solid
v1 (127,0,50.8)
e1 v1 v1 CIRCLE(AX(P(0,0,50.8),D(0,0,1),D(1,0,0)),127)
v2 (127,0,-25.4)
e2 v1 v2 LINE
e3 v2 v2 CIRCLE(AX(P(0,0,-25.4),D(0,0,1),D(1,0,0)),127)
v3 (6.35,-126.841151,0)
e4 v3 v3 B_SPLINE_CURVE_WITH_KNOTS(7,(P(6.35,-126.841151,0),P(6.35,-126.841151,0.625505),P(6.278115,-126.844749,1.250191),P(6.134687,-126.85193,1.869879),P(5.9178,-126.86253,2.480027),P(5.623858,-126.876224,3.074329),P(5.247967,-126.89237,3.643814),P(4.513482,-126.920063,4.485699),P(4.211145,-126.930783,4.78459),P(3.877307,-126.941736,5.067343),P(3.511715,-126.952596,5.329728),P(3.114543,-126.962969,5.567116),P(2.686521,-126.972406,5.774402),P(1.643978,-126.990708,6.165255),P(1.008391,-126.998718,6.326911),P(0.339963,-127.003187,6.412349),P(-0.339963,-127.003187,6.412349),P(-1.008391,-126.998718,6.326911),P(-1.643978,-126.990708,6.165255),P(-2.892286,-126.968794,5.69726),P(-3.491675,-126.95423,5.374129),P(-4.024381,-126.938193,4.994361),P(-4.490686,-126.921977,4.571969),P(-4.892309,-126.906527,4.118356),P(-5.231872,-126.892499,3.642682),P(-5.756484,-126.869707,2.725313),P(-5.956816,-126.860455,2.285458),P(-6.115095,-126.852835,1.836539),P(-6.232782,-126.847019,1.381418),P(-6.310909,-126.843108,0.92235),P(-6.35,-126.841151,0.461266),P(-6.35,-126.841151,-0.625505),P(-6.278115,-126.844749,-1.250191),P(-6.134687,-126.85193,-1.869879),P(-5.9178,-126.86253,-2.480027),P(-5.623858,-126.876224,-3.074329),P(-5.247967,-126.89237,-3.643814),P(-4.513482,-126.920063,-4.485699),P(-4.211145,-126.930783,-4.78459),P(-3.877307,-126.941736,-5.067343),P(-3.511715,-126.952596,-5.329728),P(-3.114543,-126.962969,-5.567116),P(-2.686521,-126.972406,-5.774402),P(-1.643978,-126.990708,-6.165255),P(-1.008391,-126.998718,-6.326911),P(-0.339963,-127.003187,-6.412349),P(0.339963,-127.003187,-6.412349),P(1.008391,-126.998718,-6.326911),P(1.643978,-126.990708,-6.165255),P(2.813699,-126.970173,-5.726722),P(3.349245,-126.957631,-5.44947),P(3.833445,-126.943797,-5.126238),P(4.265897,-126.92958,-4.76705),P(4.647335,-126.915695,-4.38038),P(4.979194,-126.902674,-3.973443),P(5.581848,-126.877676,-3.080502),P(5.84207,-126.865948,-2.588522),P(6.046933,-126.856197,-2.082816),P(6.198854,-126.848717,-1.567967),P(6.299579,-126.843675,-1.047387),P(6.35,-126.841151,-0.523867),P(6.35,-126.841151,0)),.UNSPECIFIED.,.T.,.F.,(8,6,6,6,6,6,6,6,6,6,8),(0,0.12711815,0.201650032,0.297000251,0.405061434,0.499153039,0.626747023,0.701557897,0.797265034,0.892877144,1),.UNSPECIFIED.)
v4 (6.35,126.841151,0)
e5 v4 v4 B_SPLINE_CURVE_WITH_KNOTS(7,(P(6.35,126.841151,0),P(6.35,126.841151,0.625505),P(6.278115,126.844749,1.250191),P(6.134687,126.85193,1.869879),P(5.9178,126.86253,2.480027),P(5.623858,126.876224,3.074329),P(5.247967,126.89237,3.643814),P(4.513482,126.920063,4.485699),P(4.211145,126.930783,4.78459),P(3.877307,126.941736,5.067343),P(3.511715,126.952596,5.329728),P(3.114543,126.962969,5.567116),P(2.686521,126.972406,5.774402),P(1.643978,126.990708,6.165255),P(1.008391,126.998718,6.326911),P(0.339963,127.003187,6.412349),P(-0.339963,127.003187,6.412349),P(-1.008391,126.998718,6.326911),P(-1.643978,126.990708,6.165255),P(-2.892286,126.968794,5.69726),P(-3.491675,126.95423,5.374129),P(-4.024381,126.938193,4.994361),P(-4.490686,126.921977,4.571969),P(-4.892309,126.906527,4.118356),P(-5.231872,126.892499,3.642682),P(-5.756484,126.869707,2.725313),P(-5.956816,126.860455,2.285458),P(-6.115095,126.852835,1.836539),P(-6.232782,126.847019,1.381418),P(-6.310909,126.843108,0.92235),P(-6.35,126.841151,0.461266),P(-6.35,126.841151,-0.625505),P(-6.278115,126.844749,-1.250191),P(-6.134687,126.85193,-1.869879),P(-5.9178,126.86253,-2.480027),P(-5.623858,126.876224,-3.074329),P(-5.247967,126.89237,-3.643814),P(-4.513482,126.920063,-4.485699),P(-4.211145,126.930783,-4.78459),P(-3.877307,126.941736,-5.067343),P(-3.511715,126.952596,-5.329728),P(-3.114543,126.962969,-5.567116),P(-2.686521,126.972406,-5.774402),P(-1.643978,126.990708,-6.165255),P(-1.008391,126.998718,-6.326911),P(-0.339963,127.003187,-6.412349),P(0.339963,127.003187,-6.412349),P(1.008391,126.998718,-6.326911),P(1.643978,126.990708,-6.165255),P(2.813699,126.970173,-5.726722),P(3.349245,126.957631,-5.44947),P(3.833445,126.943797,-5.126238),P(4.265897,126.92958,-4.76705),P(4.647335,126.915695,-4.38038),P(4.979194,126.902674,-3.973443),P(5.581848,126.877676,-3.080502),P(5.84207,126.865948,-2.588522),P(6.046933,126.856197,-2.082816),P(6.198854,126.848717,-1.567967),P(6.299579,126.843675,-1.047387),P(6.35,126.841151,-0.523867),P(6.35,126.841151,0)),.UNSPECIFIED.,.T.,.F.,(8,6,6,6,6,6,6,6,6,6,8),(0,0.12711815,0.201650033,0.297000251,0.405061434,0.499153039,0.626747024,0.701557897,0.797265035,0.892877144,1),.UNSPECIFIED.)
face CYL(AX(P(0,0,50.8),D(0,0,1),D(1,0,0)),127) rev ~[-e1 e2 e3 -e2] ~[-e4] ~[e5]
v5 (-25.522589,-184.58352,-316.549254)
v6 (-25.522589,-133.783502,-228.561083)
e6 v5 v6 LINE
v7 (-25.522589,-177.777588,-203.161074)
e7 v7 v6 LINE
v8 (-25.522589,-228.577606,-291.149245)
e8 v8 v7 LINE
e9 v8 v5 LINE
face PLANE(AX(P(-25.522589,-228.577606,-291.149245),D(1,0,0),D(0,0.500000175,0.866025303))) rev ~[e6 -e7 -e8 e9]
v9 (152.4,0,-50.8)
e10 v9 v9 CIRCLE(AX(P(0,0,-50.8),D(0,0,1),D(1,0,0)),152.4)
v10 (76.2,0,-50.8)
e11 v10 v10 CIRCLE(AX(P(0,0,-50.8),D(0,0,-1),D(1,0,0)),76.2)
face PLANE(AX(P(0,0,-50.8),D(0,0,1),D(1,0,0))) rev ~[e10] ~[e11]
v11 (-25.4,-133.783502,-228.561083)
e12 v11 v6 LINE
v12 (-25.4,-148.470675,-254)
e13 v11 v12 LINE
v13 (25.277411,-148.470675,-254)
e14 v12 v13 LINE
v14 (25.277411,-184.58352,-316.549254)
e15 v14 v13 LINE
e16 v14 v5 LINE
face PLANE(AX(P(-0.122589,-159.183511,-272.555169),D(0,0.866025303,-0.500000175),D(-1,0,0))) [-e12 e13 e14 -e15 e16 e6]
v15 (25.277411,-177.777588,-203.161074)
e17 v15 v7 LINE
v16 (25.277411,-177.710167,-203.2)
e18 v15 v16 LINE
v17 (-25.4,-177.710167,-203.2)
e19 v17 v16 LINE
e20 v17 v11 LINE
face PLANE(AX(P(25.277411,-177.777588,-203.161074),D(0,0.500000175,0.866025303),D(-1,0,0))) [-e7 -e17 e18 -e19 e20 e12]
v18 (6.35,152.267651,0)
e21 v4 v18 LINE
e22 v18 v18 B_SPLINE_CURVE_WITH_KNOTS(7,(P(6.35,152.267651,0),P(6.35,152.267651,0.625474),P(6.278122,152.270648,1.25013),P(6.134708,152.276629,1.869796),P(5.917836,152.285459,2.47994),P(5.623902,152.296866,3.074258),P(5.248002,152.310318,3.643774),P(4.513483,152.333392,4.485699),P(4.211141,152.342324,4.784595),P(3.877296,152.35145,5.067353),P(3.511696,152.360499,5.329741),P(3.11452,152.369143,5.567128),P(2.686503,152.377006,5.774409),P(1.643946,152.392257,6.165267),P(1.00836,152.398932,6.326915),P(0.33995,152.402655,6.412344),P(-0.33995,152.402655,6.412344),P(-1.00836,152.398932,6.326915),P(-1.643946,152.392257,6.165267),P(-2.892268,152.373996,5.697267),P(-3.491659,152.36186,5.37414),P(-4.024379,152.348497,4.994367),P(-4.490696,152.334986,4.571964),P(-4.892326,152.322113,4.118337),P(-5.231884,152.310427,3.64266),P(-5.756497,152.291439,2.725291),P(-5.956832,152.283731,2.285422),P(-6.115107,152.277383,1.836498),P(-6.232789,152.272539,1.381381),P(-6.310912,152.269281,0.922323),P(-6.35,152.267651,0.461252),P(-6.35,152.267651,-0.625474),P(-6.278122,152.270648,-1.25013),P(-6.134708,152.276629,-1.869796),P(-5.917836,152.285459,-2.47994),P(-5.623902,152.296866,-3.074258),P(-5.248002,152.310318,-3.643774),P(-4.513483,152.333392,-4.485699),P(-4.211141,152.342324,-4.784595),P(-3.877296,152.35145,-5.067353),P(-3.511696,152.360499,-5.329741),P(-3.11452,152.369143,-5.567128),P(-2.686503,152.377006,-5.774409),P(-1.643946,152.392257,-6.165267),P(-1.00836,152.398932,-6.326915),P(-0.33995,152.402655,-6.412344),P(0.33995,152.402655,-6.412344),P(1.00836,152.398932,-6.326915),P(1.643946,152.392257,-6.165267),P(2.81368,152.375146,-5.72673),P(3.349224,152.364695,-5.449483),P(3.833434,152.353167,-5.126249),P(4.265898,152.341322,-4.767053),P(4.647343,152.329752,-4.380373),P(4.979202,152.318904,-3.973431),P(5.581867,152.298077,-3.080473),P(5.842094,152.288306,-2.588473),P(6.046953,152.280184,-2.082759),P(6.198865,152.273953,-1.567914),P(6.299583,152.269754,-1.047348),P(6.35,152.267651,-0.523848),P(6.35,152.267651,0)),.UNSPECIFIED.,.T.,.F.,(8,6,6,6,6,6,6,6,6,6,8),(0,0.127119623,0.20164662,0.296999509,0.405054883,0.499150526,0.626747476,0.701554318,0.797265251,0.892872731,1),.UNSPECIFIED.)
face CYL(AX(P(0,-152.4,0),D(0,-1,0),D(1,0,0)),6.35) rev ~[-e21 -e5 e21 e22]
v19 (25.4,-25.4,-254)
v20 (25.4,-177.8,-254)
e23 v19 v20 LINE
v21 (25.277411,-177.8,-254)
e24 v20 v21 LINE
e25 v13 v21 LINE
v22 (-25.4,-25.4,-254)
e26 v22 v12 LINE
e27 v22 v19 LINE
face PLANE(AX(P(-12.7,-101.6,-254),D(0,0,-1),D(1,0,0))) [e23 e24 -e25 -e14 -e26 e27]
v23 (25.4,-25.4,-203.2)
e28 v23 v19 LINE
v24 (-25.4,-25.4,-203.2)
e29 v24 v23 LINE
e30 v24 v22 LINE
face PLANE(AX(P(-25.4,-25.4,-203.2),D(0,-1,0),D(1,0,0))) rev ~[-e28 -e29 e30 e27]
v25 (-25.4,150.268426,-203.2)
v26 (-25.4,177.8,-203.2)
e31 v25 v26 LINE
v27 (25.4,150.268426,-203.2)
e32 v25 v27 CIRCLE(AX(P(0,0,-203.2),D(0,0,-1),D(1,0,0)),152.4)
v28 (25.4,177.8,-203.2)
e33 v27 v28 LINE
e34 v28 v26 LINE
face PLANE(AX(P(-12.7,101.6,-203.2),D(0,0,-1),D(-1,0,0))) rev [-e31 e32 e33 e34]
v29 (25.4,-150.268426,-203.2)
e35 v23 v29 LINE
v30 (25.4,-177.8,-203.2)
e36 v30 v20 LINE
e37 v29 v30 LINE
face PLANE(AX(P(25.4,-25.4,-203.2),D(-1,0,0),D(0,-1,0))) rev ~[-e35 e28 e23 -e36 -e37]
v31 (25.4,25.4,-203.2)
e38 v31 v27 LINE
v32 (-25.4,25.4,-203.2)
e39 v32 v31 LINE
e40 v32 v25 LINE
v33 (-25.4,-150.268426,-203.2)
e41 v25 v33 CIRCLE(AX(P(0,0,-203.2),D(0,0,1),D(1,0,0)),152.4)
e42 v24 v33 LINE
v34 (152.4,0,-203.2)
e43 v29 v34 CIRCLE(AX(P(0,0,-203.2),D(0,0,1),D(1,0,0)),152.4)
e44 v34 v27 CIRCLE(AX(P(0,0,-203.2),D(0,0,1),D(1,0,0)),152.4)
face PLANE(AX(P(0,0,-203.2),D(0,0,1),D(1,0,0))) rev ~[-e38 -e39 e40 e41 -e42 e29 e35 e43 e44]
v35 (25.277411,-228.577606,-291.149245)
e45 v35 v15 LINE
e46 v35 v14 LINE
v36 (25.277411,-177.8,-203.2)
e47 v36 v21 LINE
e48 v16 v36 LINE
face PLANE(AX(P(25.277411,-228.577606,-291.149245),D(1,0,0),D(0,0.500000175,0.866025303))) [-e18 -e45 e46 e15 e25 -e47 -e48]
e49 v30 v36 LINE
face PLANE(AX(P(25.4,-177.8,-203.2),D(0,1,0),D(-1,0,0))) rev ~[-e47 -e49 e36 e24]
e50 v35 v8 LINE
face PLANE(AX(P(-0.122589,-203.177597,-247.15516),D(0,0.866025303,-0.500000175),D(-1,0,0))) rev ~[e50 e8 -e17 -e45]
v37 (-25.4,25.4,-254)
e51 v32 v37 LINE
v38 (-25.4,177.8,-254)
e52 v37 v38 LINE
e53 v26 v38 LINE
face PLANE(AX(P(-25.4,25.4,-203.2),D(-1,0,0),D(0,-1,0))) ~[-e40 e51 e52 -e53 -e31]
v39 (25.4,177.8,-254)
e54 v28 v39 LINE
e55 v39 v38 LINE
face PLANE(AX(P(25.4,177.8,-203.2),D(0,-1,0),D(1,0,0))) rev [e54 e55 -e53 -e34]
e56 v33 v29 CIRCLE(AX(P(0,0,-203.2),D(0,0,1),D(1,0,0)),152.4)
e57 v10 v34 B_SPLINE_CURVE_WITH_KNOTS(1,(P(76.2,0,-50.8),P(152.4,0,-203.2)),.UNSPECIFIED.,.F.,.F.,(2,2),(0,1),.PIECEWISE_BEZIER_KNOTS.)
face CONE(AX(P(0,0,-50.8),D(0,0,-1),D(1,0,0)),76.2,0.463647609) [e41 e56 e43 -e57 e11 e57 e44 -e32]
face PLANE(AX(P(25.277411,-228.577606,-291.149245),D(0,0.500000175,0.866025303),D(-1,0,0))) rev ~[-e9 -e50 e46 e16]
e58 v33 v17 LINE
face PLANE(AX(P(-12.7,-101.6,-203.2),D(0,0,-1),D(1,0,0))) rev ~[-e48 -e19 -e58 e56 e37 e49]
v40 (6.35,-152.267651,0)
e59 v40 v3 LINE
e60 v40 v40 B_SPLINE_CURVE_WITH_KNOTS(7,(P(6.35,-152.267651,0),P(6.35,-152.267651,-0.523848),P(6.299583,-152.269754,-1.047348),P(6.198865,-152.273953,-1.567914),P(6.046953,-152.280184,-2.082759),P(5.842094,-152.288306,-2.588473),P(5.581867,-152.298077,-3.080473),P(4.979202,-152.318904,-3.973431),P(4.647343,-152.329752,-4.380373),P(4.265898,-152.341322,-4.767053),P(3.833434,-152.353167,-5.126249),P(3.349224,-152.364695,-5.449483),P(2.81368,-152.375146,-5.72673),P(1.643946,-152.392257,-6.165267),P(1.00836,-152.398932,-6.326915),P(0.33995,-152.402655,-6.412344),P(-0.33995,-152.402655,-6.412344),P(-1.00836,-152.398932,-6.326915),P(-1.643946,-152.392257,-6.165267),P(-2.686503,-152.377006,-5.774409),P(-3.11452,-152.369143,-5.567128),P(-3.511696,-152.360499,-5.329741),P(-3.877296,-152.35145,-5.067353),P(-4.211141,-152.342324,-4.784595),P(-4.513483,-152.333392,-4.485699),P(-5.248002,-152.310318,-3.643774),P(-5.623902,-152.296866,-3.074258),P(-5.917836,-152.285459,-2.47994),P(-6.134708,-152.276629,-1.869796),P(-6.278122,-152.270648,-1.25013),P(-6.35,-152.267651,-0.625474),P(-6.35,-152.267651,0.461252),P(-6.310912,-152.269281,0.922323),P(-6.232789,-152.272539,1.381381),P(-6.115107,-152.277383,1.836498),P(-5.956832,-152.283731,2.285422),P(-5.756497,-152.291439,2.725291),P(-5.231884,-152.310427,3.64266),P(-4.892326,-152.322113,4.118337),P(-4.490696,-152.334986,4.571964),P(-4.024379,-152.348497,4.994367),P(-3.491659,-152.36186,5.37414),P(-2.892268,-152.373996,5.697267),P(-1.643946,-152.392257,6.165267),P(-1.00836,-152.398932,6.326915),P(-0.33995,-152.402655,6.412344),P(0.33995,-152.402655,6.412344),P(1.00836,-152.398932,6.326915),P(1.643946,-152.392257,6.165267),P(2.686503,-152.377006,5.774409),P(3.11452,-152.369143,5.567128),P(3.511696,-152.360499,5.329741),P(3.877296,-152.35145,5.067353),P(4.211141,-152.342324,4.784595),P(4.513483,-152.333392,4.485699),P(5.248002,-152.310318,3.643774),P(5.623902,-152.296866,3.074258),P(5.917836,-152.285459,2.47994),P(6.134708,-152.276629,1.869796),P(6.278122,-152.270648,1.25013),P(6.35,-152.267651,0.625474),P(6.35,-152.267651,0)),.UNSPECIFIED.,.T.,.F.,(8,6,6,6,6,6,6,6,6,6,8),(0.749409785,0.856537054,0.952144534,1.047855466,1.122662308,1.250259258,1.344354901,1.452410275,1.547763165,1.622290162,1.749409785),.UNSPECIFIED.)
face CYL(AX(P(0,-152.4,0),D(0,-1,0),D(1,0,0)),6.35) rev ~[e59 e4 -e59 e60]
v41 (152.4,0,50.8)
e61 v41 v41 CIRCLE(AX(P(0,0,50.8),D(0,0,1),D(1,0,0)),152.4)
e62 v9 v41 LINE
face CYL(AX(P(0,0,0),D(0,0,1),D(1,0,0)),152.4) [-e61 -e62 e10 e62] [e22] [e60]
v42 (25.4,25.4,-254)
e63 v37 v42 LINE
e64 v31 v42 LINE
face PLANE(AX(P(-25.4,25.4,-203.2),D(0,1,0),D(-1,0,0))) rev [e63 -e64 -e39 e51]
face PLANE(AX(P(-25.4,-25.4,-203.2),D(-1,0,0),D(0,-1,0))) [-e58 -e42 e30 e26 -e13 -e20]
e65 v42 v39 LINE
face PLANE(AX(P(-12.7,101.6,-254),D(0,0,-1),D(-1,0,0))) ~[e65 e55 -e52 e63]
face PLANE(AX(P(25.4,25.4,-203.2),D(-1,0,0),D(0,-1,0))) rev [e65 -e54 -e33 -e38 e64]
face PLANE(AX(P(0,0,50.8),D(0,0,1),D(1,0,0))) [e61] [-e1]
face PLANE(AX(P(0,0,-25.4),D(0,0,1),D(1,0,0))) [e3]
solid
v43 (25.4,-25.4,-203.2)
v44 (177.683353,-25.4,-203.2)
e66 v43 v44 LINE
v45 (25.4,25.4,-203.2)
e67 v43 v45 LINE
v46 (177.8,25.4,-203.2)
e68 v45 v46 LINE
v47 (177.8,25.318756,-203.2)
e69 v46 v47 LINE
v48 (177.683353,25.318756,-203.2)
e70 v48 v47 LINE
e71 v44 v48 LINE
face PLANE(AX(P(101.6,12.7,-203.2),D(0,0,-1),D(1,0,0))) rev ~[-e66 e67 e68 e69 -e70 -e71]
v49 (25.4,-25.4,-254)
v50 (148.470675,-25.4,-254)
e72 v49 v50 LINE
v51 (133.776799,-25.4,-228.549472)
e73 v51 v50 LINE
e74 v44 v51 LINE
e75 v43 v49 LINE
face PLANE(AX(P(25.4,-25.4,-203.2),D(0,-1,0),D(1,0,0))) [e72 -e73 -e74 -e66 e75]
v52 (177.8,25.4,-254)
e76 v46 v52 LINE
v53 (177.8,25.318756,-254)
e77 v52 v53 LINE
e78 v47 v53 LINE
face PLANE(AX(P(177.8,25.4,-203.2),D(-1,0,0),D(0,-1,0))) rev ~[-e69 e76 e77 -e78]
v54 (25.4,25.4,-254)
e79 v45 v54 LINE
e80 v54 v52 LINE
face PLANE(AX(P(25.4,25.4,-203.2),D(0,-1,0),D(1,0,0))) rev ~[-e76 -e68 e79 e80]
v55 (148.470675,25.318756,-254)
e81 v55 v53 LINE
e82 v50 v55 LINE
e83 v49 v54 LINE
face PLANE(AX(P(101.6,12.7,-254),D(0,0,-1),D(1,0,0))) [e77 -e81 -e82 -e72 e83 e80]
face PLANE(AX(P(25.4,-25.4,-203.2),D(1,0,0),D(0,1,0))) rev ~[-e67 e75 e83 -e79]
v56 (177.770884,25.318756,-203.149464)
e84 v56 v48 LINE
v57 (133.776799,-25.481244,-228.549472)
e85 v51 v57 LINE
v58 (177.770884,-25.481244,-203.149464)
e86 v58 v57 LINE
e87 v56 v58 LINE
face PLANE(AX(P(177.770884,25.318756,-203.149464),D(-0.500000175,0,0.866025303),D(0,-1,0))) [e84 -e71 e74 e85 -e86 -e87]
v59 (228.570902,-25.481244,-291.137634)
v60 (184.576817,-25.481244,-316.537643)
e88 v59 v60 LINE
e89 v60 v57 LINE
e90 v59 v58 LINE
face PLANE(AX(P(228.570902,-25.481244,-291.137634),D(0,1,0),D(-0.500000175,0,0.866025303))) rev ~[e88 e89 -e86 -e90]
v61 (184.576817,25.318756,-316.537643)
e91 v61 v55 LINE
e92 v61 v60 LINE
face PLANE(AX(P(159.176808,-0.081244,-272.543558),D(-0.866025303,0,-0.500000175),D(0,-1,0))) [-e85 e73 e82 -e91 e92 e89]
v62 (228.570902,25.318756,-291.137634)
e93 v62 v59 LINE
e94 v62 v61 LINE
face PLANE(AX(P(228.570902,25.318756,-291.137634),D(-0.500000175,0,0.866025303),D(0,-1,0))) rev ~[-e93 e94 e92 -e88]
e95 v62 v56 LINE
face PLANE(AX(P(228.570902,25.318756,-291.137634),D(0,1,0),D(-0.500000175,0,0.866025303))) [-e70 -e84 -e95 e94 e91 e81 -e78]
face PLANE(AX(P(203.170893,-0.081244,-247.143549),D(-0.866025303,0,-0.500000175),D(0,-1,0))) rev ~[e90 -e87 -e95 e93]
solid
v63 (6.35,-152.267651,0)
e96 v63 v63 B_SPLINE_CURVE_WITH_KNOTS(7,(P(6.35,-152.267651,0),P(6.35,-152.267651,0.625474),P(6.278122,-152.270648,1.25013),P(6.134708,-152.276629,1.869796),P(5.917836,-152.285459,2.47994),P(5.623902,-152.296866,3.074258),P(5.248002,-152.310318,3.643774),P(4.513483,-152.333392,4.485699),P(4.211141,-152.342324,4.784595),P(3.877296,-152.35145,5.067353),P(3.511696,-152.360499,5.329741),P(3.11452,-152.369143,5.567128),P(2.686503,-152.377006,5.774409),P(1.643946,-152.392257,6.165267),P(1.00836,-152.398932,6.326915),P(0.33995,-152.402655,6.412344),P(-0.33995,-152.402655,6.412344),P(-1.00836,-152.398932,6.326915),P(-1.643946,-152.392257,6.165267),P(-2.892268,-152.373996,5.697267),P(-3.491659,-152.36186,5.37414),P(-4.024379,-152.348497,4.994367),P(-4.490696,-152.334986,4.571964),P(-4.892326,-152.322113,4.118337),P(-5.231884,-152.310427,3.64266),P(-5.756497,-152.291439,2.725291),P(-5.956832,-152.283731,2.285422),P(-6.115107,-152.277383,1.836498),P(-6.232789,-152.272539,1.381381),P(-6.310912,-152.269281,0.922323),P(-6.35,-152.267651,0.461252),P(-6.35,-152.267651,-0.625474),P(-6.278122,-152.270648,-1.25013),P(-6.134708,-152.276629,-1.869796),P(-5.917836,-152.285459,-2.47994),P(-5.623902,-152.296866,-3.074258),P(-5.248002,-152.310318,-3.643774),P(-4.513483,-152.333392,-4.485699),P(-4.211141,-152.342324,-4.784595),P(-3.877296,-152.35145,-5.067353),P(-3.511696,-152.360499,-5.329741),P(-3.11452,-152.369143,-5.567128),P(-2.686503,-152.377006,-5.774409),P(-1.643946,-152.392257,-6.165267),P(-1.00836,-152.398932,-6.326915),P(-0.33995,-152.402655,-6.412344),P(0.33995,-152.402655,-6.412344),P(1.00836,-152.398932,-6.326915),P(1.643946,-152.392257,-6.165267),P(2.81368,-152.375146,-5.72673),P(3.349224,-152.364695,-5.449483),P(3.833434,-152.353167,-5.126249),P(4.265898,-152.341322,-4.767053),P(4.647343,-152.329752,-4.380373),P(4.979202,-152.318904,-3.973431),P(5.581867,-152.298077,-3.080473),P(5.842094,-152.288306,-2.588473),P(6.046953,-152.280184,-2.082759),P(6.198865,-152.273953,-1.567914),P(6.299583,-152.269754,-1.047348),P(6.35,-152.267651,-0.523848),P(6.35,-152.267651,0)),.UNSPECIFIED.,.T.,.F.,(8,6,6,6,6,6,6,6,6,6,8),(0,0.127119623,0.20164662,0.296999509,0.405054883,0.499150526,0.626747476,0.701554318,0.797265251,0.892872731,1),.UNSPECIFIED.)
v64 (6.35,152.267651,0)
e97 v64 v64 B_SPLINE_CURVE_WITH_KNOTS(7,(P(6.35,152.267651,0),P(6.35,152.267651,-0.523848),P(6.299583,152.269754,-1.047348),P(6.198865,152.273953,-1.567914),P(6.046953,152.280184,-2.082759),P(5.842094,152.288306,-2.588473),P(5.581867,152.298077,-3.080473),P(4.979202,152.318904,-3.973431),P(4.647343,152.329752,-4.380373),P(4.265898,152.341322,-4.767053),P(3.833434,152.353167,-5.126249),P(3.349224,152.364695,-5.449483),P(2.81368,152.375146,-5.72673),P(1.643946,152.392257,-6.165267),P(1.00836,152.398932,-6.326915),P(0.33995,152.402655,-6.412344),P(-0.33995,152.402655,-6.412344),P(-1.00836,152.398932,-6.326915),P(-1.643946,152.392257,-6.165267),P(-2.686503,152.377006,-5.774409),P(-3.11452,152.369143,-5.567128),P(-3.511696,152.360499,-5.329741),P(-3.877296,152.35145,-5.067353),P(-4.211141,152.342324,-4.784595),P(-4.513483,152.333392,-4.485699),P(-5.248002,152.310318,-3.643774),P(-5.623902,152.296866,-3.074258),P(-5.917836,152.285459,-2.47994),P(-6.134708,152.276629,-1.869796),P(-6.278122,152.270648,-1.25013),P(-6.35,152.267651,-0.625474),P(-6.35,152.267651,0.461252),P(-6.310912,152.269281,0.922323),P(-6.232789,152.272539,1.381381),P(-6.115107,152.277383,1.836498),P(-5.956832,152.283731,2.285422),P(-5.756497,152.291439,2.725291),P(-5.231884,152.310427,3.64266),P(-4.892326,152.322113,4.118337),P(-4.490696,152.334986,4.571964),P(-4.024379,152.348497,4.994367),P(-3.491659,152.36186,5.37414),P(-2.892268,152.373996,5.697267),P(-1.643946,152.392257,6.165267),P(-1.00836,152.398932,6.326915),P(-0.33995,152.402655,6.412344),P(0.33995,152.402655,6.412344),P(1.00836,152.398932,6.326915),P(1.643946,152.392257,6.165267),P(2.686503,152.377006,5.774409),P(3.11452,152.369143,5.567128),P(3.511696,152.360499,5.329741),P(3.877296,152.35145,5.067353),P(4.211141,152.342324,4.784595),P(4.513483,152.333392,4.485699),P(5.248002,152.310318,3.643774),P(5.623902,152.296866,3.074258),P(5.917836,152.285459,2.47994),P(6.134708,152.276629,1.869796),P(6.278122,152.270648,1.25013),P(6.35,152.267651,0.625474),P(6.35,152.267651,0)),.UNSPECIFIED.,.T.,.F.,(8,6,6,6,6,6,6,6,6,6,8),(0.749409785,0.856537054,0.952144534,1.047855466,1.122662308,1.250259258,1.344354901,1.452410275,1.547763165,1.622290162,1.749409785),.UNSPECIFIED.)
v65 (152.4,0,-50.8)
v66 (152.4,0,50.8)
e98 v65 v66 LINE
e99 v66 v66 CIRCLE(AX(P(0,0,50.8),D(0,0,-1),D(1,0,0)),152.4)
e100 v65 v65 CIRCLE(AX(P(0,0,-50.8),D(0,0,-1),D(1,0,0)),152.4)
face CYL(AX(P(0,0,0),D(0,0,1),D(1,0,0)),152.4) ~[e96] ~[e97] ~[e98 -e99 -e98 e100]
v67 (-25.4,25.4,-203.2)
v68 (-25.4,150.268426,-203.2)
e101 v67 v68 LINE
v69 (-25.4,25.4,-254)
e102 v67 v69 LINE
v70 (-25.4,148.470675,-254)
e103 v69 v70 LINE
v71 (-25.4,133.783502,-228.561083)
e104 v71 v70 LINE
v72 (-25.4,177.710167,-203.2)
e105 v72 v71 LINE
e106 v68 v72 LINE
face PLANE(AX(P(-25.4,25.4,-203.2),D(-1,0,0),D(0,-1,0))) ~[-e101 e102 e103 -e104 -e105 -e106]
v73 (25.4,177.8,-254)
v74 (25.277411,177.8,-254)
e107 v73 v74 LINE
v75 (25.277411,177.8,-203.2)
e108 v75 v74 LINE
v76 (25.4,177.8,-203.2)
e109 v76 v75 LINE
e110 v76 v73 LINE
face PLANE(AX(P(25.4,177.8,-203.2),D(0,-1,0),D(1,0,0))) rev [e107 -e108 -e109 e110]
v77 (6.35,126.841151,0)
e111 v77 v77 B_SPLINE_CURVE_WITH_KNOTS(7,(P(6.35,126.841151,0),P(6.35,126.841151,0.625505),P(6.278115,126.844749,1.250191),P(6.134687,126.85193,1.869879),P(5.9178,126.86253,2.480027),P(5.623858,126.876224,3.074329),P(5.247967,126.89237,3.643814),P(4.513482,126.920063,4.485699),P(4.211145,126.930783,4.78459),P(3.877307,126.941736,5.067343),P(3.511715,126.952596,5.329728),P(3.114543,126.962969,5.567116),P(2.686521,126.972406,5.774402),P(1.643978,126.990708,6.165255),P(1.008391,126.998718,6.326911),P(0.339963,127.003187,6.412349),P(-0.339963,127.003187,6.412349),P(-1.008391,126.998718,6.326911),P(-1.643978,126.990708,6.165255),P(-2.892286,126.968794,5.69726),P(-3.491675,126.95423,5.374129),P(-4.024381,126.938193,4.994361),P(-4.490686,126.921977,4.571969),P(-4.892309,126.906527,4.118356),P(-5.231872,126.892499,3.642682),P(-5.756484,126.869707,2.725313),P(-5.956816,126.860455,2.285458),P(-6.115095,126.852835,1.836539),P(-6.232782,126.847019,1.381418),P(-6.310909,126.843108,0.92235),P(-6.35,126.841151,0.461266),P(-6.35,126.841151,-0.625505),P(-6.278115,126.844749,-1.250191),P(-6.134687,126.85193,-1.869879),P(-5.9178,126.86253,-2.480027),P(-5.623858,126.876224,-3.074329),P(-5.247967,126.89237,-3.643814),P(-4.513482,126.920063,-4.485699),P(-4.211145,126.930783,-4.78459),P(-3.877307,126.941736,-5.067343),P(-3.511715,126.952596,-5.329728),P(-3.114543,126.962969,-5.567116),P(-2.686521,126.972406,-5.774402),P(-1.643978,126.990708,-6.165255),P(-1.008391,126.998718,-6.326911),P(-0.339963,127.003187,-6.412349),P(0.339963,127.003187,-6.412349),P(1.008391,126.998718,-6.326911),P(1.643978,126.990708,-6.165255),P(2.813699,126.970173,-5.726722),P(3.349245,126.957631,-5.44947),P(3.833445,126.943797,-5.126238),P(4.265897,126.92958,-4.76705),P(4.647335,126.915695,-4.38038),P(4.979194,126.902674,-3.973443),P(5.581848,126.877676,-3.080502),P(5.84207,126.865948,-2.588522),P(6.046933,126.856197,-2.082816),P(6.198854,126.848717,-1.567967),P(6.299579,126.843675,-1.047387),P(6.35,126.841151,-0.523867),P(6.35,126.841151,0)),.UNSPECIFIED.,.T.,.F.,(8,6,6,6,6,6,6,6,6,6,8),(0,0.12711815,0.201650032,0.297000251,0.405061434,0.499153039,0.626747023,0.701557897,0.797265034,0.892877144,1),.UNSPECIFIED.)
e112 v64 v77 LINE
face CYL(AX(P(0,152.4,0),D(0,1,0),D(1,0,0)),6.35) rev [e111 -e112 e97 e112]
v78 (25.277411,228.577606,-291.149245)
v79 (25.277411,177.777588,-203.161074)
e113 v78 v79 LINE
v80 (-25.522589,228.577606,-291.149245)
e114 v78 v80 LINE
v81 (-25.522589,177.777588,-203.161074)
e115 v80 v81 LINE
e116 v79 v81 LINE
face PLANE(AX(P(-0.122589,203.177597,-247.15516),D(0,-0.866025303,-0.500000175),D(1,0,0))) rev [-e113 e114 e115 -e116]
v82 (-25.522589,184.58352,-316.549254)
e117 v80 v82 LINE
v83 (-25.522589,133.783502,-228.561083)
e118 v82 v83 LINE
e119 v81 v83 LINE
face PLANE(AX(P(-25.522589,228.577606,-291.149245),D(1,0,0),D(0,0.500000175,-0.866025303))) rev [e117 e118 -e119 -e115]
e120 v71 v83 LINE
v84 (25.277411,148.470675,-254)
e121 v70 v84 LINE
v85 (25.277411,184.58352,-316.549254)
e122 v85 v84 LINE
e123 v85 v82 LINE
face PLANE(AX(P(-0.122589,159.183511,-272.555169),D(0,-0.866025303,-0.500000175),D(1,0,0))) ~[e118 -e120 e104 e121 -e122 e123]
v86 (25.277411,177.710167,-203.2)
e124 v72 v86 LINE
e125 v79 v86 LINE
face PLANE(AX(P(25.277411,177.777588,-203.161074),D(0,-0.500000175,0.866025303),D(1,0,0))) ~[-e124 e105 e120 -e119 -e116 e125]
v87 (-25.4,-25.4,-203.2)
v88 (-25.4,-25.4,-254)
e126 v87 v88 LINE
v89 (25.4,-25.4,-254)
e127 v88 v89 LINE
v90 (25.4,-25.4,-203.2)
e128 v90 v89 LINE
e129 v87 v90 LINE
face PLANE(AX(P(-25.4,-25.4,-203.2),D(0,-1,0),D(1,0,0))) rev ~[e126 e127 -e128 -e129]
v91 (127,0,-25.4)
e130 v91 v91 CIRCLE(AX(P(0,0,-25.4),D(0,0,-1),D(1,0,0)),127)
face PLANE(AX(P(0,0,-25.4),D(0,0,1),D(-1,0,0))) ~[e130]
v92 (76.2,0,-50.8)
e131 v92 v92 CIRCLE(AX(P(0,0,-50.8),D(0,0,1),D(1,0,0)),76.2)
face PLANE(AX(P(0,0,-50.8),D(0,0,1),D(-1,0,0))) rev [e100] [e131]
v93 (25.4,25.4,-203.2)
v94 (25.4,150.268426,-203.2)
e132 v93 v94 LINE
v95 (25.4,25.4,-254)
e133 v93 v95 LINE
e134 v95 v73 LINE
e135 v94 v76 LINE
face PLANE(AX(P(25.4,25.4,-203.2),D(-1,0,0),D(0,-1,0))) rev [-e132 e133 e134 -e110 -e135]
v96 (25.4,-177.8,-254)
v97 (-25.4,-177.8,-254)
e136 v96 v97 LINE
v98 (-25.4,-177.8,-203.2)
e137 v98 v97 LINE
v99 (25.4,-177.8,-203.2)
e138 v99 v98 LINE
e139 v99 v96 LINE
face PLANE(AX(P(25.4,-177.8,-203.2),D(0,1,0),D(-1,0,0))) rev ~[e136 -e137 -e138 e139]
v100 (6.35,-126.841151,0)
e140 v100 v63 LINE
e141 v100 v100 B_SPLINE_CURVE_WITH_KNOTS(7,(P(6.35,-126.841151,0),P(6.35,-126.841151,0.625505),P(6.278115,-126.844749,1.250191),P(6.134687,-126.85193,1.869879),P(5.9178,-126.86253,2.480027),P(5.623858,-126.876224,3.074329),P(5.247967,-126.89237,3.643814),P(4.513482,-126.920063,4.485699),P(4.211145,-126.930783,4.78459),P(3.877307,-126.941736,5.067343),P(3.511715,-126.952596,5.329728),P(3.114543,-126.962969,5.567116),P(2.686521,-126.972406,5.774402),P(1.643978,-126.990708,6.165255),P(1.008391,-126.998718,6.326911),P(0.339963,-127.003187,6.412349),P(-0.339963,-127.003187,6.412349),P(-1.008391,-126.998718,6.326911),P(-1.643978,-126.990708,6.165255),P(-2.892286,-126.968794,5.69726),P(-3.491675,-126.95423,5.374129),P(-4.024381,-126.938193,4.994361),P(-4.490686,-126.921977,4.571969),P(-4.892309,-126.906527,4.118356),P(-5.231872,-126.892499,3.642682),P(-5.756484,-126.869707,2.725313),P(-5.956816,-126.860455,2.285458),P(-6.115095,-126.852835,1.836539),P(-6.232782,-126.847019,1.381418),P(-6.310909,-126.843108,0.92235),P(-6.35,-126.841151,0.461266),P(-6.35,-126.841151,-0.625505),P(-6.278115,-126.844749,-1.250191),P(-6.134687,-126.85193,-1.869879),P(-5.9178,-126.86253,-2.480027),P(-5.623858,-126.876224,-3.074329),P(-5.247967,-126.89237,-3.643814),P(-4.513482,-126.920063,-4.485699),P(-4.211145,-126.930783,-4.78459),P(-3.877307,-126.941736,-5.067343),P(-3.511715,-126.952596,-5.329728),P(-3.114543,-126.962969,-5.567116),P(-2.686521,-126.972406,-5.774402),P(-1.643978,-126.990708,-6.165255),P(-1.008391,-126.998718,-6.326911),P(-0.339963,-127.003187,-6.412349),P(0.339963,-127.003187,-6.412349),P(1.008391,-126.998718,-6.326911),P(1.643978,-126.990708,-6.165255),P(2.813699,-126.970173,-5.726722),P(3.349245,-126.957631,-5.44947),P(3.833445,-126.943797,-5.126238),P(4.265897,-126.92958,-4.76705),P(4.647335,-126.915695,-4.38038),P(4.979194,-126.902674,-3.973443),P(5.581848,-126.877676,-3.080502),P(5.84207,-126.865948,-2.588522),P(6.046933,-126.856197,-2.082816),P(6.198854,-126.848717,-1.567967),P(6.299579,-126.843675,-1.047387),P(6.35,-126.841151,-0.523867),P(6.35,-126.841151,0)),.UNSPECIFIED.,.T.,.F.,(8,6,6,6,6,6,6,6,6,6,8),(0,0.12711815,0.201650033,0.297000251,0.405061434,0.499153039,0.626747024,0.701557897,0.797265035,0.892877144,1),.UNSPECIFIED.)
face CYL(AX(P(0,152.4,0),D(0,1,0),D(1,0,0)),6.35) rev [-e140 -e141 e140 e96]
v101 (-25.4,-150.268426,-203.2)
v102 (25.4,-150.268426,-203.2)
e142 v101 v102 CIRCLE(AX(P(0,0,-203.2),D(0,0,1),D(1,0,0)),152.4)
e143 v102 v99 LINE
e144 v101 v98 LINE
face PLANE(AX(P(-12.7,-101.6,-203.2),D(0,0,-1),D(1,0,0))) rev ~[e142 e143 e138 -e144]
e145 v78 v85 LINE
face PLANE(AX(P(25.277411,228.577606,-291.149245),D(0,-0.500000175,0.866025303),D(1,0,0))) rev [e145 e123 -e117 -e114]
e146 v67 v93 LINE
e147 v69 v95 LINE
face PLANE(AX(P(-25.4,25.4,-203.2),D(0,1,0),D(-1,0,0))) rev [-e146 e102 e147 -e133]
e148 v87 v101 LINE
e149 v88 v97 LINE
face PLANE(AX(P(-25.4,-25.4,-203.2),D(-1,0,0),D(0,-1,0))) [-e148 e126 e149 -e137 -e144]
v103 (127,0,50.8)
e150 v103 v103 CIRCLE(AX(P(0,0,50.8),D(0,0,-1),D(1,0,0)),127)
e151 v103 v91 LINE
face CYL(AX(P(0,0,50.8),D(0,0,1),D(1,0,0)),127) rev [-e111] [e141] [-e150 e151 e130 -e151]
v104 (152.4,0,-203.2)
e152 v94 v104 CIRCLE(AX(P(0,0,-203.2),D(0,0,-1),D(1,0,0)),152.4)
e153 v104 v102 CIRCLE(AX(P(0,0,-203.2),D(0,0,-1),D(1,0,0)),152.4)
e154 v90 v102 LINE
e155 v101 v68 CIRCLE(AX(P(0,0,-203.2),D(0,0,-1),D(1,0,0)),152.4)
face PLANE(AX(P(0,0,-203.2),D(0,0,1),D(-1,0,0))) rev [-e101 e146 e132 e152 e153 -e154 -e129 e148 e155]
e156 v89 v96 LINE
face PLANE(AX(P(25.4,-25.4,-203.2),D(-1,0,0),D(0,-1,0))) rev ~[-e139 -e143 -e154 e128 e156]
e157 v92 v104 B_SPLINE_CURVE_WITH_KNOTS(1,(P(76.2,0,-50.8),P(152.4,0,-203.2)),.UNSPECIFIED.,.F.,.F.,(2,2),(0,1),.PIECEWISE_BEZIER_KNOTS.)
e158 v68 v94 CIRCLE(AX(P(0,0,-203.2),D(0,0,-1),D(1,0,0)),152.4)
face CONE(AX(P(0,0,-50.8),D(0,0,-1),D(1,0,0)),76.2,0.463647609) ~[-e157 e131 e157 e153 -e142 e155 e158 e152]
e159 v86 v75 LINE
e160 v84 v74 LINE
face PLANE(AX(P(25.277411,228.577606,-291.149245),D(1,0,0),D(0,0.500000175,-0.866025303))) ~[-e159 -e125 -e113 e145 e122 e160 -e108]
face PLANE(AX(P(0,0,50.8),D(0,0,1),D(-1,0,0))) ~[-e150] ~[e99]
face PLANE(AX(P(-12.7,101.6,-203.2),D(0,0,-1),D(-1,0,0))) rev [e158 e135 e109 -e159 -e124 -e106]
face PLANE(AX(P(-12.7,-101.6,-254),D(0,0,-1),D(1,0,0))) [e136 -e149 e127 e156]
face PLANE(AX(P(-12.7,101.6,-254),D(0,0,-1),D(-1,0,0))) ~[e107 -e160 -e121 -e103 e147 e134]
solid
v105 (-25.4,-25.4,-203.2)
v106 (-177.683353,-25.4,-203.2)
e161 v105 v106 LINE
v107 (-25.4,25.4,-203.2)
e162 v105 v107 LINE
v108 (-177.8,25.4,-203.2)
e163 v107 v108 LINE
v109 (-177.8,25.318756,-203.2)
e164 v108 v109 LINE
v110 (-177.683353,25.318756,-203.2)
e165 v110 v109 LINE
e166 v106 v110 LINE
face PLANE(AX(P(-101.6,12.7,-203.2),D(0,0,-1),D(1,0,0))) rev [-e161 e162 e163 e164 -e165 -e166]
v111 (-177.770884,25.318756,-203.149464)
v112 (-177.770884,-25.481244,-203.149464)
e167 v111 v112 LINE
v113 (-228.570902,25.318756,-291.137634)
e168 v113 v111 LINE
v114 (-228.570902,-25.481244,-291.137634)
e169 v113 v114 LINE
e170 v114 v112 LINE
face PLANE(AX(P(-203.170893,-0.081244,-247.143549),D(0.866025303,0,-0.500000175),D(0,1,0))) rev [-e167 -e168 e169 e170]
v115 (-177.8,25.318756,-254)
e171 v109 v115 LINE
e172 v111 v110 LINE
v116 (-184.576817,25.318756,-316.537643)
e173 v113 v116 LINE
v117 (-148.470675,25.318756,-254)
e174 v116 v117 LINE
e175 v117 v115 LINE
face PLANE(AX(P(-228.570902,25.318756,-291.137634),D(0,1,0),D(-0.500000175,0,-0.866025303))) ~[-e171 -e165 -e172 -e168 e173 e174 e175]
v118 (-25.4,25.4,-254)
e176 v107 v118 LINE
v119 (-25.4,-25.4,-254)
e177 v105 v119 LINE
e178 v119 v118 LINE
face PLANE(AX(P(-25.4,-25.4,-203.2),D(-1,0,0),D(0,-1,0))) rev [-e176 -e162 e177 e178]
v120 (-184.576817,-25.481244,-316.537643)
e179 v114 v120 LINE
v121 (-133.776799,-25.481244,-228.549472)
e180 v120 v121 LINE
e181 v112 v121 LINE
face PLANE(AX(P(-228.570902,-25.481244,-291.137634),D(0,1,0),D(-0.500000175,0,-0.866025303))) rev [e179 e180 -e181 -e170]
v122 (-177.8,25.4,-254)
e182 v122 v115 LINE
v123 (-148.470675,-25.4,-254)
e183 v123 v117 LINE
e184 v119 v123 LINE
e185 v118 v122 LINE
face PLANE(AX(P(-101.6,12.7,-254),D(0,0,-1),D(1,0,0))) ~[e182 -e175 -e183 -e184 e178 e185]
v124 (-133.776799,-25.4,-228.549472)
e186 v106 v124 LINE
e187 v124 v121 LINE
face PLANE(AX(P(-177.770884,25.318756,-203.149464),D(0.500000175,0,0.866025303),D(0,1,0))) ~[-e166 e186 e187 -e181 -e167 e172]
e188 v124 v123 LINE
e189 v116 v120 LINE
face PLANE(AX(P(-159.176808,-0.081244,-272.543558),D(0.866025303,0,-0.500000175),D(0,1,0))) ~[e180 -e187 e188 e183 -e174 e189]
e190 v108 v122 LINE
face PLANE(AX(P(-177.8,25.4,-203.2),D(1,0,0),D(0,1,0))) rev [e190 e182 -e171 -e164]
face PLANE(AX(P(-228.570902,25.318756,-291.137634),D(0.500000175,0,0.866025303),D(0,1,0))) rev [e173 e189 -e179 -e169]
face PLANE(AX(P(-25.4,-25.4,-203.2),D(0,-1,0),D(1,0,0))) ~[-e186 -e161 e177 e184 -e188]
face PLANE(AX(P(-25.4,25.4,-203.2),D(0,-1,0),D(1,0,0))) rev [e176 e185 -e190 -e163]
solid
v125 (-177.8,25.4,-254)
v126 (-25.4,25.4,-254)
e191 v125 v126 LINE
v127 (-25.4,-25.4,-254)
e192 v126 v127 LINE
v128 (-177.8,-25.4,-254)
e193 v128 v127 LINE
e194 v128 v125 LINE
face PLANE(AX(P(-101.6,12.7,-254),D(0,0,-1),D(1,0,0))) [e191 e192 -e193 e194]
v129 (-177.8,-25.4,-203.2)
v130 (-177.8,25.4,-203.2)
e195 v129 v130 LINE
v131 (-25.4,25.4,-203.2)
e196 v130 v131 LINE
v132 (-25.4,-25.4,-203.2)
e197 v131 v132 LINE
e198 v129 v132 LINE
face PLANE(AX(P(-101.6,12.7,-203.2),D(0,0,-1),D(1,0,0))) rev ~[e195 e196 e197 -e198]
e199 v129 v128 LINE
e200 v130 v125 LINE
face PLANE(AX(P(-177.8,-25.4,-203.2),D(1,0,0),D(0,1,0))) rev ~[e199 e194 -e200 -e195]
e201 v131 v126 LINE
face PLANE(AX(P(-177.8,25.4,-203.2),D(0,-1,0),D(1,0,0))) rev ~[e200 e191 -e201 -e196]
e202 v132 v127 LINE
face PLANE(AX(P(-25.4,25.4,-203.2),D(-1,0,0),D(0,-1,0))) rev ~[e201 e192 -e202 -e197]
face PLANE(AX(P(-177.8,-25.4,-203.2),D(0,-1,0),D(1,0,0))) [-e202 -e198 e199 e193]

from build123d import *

# Parameters (mm, degrees)
F0_R      = 152.4
F0_R_2    = 127
F1_DEPTH  = 50.8
F3_R      = 6.35
F4_DEPTH  = 304.801
F5_R      = 127
F6_DEPTH  = 76.2
F7_R      = 76.2
F9_R      = 152.4
F11_W     = 25.4
F11_H     = 152.4
F14_DEPTH = 50.8
F11_W_2   = 152.4
F11_H_2   = 25.4
F16_DEPTH = 50.8
F17_DEPTH = 50.8
F19_W     = 50.8
F19_H     = 101.6
F20_DEPTH = 50.8
F24_W     = 50.8
F24_H     = 101.6
F25_DEPTH = 50.8


with BuildPart() as f1:
    # F0 (on Top) → F1 (new body, symmetric)
    with BuildSketch(Plane.XY):
        Circle(F0_R)
        Circle(F0_R_2, mode=Mode.SUBTRACT)
        Circle(F0_R_2)
    extrude(amount=F1_DEPTH, both=True)

    # F3 (on offset) → F4 (cut, through all)
    with BuildSketch(Plane.XZ.offset(152.4)):
        Circle(F3_R)
    extrude(amount=-F4_DEPTH, mode=Mode.SUBTRACT)

    # F5 (on face) → F6 (cut)
    with BuildSketch(Plane.XY.offset(50.8)):
        Circle(F5_R)
    extrude(amount=-F6_DEPTH, mode=Mode.SUBTRACT)

    # F7 (on face) → F10 section 0
    with BuildSketch(Plane(origin=(0, 0, -50.8), x_dir=(1, 0, 0), z_dir=(0, 0, -1))):
        Circle(F7_R)
    # F9 (on offset) → F10 section 1
    with BuildSketch(Plane.XY.offset(-203.2)):
        Circle(F9_R)
    loft()

    # F11 (on face) → F14 (join)
    with BuildSketch(Plane(origin=(0, 0, -203.2), x_dir=(1, 0, 0), z_dir=(0, 0, -1))):
        with Locations((-12.7, 101.6)):
            Rectangle(F11_W, F11_H)
        with Locations((12.7, 101.6)):
            Rectangle(F11_W, F11_H)
    extrude(amount=F14_DEPTH)

    # F15: F1 across plane


with BuildPart() as f1_1:
    add(f1.part)
    add(f1.part.mirror(Plane(origin=(0, 0, -203.2), x_dir=(1, 0, 0), z_dir=(0, -1, 0))))

    # F19 (on face) → F20 (join)
    with BuildSketch(Plane(origin=(0, -45.361819, 26.189658), x_dir=(-1, 0, 0), z_dir=(0, 0.866025, -0.5))):
        with Locations((0.122589, -315.631445)):
            Rectangle(F19_W, F19_H)
    extrude(amount=F20_DEPTH)


with BuildPart() as f16:
    # F11 (on face) → F16 (new body)
    with BuildSketch(Plane(origin=(0, 0, -203.2), x_dir=(1, 0, 0), z_dir=(0, 0, -1))):
        with Locations((-101.6, -12.7)):
            Rectangle(F11_W_2, F11_H_2)
        with Locations((-101.6, 12.7)):
            Rectangle(F11_W_2, F11_H_2)
    extrude(amount=F16_DEPTH)


with BuildPart() as f17:
    # F11 (on face) → F17 (new body)
    with BuildSketch(Plane(origin=(0, 0, -203.2), x_dir=(1, 0, 0), z_dir=(0, 0, -1))):
        with Locations((101.6, -12.7)):
            Rectangle(F11_W_2, F11_H_2)
        with Locations((101.6, 12.7)):
            Rectangle(F11_W_2, F11_H_2)
    extrude(amount=F17_DEPTH)

    # F24 (on face) → F25 (join)
    with BuildSketch(Plane(origin=(45.361819, 0, 26.189658), x_dir=(0, -1, 0), z_dir=(-0.866025, 0, -0.5))):
        with Locations((0.081244, -315.618038)):
            Rectangle(F24_W, F24_H)
    extrude(amount=F25_DEPTH)


with BuildPart() as f21_1:
    # F21: instance of F1
    add(f1_1.part.mirror(Plane(origin=(0, 0, -203.2), x_dir=(1, 0, 0), z_dir=(0, -1, 0))))


with BuildPart() as f26_1:
    # F26: instance of F17
    add(f17.part.mirror(Plane(origin=(0, 0, -203.2), x_dir=(0, 1, 0), z_dir=(1, 0, 0))))


solid = Compound([f1_1.part, f16.part, f17.part, f21_1.part, f26_1.part])
